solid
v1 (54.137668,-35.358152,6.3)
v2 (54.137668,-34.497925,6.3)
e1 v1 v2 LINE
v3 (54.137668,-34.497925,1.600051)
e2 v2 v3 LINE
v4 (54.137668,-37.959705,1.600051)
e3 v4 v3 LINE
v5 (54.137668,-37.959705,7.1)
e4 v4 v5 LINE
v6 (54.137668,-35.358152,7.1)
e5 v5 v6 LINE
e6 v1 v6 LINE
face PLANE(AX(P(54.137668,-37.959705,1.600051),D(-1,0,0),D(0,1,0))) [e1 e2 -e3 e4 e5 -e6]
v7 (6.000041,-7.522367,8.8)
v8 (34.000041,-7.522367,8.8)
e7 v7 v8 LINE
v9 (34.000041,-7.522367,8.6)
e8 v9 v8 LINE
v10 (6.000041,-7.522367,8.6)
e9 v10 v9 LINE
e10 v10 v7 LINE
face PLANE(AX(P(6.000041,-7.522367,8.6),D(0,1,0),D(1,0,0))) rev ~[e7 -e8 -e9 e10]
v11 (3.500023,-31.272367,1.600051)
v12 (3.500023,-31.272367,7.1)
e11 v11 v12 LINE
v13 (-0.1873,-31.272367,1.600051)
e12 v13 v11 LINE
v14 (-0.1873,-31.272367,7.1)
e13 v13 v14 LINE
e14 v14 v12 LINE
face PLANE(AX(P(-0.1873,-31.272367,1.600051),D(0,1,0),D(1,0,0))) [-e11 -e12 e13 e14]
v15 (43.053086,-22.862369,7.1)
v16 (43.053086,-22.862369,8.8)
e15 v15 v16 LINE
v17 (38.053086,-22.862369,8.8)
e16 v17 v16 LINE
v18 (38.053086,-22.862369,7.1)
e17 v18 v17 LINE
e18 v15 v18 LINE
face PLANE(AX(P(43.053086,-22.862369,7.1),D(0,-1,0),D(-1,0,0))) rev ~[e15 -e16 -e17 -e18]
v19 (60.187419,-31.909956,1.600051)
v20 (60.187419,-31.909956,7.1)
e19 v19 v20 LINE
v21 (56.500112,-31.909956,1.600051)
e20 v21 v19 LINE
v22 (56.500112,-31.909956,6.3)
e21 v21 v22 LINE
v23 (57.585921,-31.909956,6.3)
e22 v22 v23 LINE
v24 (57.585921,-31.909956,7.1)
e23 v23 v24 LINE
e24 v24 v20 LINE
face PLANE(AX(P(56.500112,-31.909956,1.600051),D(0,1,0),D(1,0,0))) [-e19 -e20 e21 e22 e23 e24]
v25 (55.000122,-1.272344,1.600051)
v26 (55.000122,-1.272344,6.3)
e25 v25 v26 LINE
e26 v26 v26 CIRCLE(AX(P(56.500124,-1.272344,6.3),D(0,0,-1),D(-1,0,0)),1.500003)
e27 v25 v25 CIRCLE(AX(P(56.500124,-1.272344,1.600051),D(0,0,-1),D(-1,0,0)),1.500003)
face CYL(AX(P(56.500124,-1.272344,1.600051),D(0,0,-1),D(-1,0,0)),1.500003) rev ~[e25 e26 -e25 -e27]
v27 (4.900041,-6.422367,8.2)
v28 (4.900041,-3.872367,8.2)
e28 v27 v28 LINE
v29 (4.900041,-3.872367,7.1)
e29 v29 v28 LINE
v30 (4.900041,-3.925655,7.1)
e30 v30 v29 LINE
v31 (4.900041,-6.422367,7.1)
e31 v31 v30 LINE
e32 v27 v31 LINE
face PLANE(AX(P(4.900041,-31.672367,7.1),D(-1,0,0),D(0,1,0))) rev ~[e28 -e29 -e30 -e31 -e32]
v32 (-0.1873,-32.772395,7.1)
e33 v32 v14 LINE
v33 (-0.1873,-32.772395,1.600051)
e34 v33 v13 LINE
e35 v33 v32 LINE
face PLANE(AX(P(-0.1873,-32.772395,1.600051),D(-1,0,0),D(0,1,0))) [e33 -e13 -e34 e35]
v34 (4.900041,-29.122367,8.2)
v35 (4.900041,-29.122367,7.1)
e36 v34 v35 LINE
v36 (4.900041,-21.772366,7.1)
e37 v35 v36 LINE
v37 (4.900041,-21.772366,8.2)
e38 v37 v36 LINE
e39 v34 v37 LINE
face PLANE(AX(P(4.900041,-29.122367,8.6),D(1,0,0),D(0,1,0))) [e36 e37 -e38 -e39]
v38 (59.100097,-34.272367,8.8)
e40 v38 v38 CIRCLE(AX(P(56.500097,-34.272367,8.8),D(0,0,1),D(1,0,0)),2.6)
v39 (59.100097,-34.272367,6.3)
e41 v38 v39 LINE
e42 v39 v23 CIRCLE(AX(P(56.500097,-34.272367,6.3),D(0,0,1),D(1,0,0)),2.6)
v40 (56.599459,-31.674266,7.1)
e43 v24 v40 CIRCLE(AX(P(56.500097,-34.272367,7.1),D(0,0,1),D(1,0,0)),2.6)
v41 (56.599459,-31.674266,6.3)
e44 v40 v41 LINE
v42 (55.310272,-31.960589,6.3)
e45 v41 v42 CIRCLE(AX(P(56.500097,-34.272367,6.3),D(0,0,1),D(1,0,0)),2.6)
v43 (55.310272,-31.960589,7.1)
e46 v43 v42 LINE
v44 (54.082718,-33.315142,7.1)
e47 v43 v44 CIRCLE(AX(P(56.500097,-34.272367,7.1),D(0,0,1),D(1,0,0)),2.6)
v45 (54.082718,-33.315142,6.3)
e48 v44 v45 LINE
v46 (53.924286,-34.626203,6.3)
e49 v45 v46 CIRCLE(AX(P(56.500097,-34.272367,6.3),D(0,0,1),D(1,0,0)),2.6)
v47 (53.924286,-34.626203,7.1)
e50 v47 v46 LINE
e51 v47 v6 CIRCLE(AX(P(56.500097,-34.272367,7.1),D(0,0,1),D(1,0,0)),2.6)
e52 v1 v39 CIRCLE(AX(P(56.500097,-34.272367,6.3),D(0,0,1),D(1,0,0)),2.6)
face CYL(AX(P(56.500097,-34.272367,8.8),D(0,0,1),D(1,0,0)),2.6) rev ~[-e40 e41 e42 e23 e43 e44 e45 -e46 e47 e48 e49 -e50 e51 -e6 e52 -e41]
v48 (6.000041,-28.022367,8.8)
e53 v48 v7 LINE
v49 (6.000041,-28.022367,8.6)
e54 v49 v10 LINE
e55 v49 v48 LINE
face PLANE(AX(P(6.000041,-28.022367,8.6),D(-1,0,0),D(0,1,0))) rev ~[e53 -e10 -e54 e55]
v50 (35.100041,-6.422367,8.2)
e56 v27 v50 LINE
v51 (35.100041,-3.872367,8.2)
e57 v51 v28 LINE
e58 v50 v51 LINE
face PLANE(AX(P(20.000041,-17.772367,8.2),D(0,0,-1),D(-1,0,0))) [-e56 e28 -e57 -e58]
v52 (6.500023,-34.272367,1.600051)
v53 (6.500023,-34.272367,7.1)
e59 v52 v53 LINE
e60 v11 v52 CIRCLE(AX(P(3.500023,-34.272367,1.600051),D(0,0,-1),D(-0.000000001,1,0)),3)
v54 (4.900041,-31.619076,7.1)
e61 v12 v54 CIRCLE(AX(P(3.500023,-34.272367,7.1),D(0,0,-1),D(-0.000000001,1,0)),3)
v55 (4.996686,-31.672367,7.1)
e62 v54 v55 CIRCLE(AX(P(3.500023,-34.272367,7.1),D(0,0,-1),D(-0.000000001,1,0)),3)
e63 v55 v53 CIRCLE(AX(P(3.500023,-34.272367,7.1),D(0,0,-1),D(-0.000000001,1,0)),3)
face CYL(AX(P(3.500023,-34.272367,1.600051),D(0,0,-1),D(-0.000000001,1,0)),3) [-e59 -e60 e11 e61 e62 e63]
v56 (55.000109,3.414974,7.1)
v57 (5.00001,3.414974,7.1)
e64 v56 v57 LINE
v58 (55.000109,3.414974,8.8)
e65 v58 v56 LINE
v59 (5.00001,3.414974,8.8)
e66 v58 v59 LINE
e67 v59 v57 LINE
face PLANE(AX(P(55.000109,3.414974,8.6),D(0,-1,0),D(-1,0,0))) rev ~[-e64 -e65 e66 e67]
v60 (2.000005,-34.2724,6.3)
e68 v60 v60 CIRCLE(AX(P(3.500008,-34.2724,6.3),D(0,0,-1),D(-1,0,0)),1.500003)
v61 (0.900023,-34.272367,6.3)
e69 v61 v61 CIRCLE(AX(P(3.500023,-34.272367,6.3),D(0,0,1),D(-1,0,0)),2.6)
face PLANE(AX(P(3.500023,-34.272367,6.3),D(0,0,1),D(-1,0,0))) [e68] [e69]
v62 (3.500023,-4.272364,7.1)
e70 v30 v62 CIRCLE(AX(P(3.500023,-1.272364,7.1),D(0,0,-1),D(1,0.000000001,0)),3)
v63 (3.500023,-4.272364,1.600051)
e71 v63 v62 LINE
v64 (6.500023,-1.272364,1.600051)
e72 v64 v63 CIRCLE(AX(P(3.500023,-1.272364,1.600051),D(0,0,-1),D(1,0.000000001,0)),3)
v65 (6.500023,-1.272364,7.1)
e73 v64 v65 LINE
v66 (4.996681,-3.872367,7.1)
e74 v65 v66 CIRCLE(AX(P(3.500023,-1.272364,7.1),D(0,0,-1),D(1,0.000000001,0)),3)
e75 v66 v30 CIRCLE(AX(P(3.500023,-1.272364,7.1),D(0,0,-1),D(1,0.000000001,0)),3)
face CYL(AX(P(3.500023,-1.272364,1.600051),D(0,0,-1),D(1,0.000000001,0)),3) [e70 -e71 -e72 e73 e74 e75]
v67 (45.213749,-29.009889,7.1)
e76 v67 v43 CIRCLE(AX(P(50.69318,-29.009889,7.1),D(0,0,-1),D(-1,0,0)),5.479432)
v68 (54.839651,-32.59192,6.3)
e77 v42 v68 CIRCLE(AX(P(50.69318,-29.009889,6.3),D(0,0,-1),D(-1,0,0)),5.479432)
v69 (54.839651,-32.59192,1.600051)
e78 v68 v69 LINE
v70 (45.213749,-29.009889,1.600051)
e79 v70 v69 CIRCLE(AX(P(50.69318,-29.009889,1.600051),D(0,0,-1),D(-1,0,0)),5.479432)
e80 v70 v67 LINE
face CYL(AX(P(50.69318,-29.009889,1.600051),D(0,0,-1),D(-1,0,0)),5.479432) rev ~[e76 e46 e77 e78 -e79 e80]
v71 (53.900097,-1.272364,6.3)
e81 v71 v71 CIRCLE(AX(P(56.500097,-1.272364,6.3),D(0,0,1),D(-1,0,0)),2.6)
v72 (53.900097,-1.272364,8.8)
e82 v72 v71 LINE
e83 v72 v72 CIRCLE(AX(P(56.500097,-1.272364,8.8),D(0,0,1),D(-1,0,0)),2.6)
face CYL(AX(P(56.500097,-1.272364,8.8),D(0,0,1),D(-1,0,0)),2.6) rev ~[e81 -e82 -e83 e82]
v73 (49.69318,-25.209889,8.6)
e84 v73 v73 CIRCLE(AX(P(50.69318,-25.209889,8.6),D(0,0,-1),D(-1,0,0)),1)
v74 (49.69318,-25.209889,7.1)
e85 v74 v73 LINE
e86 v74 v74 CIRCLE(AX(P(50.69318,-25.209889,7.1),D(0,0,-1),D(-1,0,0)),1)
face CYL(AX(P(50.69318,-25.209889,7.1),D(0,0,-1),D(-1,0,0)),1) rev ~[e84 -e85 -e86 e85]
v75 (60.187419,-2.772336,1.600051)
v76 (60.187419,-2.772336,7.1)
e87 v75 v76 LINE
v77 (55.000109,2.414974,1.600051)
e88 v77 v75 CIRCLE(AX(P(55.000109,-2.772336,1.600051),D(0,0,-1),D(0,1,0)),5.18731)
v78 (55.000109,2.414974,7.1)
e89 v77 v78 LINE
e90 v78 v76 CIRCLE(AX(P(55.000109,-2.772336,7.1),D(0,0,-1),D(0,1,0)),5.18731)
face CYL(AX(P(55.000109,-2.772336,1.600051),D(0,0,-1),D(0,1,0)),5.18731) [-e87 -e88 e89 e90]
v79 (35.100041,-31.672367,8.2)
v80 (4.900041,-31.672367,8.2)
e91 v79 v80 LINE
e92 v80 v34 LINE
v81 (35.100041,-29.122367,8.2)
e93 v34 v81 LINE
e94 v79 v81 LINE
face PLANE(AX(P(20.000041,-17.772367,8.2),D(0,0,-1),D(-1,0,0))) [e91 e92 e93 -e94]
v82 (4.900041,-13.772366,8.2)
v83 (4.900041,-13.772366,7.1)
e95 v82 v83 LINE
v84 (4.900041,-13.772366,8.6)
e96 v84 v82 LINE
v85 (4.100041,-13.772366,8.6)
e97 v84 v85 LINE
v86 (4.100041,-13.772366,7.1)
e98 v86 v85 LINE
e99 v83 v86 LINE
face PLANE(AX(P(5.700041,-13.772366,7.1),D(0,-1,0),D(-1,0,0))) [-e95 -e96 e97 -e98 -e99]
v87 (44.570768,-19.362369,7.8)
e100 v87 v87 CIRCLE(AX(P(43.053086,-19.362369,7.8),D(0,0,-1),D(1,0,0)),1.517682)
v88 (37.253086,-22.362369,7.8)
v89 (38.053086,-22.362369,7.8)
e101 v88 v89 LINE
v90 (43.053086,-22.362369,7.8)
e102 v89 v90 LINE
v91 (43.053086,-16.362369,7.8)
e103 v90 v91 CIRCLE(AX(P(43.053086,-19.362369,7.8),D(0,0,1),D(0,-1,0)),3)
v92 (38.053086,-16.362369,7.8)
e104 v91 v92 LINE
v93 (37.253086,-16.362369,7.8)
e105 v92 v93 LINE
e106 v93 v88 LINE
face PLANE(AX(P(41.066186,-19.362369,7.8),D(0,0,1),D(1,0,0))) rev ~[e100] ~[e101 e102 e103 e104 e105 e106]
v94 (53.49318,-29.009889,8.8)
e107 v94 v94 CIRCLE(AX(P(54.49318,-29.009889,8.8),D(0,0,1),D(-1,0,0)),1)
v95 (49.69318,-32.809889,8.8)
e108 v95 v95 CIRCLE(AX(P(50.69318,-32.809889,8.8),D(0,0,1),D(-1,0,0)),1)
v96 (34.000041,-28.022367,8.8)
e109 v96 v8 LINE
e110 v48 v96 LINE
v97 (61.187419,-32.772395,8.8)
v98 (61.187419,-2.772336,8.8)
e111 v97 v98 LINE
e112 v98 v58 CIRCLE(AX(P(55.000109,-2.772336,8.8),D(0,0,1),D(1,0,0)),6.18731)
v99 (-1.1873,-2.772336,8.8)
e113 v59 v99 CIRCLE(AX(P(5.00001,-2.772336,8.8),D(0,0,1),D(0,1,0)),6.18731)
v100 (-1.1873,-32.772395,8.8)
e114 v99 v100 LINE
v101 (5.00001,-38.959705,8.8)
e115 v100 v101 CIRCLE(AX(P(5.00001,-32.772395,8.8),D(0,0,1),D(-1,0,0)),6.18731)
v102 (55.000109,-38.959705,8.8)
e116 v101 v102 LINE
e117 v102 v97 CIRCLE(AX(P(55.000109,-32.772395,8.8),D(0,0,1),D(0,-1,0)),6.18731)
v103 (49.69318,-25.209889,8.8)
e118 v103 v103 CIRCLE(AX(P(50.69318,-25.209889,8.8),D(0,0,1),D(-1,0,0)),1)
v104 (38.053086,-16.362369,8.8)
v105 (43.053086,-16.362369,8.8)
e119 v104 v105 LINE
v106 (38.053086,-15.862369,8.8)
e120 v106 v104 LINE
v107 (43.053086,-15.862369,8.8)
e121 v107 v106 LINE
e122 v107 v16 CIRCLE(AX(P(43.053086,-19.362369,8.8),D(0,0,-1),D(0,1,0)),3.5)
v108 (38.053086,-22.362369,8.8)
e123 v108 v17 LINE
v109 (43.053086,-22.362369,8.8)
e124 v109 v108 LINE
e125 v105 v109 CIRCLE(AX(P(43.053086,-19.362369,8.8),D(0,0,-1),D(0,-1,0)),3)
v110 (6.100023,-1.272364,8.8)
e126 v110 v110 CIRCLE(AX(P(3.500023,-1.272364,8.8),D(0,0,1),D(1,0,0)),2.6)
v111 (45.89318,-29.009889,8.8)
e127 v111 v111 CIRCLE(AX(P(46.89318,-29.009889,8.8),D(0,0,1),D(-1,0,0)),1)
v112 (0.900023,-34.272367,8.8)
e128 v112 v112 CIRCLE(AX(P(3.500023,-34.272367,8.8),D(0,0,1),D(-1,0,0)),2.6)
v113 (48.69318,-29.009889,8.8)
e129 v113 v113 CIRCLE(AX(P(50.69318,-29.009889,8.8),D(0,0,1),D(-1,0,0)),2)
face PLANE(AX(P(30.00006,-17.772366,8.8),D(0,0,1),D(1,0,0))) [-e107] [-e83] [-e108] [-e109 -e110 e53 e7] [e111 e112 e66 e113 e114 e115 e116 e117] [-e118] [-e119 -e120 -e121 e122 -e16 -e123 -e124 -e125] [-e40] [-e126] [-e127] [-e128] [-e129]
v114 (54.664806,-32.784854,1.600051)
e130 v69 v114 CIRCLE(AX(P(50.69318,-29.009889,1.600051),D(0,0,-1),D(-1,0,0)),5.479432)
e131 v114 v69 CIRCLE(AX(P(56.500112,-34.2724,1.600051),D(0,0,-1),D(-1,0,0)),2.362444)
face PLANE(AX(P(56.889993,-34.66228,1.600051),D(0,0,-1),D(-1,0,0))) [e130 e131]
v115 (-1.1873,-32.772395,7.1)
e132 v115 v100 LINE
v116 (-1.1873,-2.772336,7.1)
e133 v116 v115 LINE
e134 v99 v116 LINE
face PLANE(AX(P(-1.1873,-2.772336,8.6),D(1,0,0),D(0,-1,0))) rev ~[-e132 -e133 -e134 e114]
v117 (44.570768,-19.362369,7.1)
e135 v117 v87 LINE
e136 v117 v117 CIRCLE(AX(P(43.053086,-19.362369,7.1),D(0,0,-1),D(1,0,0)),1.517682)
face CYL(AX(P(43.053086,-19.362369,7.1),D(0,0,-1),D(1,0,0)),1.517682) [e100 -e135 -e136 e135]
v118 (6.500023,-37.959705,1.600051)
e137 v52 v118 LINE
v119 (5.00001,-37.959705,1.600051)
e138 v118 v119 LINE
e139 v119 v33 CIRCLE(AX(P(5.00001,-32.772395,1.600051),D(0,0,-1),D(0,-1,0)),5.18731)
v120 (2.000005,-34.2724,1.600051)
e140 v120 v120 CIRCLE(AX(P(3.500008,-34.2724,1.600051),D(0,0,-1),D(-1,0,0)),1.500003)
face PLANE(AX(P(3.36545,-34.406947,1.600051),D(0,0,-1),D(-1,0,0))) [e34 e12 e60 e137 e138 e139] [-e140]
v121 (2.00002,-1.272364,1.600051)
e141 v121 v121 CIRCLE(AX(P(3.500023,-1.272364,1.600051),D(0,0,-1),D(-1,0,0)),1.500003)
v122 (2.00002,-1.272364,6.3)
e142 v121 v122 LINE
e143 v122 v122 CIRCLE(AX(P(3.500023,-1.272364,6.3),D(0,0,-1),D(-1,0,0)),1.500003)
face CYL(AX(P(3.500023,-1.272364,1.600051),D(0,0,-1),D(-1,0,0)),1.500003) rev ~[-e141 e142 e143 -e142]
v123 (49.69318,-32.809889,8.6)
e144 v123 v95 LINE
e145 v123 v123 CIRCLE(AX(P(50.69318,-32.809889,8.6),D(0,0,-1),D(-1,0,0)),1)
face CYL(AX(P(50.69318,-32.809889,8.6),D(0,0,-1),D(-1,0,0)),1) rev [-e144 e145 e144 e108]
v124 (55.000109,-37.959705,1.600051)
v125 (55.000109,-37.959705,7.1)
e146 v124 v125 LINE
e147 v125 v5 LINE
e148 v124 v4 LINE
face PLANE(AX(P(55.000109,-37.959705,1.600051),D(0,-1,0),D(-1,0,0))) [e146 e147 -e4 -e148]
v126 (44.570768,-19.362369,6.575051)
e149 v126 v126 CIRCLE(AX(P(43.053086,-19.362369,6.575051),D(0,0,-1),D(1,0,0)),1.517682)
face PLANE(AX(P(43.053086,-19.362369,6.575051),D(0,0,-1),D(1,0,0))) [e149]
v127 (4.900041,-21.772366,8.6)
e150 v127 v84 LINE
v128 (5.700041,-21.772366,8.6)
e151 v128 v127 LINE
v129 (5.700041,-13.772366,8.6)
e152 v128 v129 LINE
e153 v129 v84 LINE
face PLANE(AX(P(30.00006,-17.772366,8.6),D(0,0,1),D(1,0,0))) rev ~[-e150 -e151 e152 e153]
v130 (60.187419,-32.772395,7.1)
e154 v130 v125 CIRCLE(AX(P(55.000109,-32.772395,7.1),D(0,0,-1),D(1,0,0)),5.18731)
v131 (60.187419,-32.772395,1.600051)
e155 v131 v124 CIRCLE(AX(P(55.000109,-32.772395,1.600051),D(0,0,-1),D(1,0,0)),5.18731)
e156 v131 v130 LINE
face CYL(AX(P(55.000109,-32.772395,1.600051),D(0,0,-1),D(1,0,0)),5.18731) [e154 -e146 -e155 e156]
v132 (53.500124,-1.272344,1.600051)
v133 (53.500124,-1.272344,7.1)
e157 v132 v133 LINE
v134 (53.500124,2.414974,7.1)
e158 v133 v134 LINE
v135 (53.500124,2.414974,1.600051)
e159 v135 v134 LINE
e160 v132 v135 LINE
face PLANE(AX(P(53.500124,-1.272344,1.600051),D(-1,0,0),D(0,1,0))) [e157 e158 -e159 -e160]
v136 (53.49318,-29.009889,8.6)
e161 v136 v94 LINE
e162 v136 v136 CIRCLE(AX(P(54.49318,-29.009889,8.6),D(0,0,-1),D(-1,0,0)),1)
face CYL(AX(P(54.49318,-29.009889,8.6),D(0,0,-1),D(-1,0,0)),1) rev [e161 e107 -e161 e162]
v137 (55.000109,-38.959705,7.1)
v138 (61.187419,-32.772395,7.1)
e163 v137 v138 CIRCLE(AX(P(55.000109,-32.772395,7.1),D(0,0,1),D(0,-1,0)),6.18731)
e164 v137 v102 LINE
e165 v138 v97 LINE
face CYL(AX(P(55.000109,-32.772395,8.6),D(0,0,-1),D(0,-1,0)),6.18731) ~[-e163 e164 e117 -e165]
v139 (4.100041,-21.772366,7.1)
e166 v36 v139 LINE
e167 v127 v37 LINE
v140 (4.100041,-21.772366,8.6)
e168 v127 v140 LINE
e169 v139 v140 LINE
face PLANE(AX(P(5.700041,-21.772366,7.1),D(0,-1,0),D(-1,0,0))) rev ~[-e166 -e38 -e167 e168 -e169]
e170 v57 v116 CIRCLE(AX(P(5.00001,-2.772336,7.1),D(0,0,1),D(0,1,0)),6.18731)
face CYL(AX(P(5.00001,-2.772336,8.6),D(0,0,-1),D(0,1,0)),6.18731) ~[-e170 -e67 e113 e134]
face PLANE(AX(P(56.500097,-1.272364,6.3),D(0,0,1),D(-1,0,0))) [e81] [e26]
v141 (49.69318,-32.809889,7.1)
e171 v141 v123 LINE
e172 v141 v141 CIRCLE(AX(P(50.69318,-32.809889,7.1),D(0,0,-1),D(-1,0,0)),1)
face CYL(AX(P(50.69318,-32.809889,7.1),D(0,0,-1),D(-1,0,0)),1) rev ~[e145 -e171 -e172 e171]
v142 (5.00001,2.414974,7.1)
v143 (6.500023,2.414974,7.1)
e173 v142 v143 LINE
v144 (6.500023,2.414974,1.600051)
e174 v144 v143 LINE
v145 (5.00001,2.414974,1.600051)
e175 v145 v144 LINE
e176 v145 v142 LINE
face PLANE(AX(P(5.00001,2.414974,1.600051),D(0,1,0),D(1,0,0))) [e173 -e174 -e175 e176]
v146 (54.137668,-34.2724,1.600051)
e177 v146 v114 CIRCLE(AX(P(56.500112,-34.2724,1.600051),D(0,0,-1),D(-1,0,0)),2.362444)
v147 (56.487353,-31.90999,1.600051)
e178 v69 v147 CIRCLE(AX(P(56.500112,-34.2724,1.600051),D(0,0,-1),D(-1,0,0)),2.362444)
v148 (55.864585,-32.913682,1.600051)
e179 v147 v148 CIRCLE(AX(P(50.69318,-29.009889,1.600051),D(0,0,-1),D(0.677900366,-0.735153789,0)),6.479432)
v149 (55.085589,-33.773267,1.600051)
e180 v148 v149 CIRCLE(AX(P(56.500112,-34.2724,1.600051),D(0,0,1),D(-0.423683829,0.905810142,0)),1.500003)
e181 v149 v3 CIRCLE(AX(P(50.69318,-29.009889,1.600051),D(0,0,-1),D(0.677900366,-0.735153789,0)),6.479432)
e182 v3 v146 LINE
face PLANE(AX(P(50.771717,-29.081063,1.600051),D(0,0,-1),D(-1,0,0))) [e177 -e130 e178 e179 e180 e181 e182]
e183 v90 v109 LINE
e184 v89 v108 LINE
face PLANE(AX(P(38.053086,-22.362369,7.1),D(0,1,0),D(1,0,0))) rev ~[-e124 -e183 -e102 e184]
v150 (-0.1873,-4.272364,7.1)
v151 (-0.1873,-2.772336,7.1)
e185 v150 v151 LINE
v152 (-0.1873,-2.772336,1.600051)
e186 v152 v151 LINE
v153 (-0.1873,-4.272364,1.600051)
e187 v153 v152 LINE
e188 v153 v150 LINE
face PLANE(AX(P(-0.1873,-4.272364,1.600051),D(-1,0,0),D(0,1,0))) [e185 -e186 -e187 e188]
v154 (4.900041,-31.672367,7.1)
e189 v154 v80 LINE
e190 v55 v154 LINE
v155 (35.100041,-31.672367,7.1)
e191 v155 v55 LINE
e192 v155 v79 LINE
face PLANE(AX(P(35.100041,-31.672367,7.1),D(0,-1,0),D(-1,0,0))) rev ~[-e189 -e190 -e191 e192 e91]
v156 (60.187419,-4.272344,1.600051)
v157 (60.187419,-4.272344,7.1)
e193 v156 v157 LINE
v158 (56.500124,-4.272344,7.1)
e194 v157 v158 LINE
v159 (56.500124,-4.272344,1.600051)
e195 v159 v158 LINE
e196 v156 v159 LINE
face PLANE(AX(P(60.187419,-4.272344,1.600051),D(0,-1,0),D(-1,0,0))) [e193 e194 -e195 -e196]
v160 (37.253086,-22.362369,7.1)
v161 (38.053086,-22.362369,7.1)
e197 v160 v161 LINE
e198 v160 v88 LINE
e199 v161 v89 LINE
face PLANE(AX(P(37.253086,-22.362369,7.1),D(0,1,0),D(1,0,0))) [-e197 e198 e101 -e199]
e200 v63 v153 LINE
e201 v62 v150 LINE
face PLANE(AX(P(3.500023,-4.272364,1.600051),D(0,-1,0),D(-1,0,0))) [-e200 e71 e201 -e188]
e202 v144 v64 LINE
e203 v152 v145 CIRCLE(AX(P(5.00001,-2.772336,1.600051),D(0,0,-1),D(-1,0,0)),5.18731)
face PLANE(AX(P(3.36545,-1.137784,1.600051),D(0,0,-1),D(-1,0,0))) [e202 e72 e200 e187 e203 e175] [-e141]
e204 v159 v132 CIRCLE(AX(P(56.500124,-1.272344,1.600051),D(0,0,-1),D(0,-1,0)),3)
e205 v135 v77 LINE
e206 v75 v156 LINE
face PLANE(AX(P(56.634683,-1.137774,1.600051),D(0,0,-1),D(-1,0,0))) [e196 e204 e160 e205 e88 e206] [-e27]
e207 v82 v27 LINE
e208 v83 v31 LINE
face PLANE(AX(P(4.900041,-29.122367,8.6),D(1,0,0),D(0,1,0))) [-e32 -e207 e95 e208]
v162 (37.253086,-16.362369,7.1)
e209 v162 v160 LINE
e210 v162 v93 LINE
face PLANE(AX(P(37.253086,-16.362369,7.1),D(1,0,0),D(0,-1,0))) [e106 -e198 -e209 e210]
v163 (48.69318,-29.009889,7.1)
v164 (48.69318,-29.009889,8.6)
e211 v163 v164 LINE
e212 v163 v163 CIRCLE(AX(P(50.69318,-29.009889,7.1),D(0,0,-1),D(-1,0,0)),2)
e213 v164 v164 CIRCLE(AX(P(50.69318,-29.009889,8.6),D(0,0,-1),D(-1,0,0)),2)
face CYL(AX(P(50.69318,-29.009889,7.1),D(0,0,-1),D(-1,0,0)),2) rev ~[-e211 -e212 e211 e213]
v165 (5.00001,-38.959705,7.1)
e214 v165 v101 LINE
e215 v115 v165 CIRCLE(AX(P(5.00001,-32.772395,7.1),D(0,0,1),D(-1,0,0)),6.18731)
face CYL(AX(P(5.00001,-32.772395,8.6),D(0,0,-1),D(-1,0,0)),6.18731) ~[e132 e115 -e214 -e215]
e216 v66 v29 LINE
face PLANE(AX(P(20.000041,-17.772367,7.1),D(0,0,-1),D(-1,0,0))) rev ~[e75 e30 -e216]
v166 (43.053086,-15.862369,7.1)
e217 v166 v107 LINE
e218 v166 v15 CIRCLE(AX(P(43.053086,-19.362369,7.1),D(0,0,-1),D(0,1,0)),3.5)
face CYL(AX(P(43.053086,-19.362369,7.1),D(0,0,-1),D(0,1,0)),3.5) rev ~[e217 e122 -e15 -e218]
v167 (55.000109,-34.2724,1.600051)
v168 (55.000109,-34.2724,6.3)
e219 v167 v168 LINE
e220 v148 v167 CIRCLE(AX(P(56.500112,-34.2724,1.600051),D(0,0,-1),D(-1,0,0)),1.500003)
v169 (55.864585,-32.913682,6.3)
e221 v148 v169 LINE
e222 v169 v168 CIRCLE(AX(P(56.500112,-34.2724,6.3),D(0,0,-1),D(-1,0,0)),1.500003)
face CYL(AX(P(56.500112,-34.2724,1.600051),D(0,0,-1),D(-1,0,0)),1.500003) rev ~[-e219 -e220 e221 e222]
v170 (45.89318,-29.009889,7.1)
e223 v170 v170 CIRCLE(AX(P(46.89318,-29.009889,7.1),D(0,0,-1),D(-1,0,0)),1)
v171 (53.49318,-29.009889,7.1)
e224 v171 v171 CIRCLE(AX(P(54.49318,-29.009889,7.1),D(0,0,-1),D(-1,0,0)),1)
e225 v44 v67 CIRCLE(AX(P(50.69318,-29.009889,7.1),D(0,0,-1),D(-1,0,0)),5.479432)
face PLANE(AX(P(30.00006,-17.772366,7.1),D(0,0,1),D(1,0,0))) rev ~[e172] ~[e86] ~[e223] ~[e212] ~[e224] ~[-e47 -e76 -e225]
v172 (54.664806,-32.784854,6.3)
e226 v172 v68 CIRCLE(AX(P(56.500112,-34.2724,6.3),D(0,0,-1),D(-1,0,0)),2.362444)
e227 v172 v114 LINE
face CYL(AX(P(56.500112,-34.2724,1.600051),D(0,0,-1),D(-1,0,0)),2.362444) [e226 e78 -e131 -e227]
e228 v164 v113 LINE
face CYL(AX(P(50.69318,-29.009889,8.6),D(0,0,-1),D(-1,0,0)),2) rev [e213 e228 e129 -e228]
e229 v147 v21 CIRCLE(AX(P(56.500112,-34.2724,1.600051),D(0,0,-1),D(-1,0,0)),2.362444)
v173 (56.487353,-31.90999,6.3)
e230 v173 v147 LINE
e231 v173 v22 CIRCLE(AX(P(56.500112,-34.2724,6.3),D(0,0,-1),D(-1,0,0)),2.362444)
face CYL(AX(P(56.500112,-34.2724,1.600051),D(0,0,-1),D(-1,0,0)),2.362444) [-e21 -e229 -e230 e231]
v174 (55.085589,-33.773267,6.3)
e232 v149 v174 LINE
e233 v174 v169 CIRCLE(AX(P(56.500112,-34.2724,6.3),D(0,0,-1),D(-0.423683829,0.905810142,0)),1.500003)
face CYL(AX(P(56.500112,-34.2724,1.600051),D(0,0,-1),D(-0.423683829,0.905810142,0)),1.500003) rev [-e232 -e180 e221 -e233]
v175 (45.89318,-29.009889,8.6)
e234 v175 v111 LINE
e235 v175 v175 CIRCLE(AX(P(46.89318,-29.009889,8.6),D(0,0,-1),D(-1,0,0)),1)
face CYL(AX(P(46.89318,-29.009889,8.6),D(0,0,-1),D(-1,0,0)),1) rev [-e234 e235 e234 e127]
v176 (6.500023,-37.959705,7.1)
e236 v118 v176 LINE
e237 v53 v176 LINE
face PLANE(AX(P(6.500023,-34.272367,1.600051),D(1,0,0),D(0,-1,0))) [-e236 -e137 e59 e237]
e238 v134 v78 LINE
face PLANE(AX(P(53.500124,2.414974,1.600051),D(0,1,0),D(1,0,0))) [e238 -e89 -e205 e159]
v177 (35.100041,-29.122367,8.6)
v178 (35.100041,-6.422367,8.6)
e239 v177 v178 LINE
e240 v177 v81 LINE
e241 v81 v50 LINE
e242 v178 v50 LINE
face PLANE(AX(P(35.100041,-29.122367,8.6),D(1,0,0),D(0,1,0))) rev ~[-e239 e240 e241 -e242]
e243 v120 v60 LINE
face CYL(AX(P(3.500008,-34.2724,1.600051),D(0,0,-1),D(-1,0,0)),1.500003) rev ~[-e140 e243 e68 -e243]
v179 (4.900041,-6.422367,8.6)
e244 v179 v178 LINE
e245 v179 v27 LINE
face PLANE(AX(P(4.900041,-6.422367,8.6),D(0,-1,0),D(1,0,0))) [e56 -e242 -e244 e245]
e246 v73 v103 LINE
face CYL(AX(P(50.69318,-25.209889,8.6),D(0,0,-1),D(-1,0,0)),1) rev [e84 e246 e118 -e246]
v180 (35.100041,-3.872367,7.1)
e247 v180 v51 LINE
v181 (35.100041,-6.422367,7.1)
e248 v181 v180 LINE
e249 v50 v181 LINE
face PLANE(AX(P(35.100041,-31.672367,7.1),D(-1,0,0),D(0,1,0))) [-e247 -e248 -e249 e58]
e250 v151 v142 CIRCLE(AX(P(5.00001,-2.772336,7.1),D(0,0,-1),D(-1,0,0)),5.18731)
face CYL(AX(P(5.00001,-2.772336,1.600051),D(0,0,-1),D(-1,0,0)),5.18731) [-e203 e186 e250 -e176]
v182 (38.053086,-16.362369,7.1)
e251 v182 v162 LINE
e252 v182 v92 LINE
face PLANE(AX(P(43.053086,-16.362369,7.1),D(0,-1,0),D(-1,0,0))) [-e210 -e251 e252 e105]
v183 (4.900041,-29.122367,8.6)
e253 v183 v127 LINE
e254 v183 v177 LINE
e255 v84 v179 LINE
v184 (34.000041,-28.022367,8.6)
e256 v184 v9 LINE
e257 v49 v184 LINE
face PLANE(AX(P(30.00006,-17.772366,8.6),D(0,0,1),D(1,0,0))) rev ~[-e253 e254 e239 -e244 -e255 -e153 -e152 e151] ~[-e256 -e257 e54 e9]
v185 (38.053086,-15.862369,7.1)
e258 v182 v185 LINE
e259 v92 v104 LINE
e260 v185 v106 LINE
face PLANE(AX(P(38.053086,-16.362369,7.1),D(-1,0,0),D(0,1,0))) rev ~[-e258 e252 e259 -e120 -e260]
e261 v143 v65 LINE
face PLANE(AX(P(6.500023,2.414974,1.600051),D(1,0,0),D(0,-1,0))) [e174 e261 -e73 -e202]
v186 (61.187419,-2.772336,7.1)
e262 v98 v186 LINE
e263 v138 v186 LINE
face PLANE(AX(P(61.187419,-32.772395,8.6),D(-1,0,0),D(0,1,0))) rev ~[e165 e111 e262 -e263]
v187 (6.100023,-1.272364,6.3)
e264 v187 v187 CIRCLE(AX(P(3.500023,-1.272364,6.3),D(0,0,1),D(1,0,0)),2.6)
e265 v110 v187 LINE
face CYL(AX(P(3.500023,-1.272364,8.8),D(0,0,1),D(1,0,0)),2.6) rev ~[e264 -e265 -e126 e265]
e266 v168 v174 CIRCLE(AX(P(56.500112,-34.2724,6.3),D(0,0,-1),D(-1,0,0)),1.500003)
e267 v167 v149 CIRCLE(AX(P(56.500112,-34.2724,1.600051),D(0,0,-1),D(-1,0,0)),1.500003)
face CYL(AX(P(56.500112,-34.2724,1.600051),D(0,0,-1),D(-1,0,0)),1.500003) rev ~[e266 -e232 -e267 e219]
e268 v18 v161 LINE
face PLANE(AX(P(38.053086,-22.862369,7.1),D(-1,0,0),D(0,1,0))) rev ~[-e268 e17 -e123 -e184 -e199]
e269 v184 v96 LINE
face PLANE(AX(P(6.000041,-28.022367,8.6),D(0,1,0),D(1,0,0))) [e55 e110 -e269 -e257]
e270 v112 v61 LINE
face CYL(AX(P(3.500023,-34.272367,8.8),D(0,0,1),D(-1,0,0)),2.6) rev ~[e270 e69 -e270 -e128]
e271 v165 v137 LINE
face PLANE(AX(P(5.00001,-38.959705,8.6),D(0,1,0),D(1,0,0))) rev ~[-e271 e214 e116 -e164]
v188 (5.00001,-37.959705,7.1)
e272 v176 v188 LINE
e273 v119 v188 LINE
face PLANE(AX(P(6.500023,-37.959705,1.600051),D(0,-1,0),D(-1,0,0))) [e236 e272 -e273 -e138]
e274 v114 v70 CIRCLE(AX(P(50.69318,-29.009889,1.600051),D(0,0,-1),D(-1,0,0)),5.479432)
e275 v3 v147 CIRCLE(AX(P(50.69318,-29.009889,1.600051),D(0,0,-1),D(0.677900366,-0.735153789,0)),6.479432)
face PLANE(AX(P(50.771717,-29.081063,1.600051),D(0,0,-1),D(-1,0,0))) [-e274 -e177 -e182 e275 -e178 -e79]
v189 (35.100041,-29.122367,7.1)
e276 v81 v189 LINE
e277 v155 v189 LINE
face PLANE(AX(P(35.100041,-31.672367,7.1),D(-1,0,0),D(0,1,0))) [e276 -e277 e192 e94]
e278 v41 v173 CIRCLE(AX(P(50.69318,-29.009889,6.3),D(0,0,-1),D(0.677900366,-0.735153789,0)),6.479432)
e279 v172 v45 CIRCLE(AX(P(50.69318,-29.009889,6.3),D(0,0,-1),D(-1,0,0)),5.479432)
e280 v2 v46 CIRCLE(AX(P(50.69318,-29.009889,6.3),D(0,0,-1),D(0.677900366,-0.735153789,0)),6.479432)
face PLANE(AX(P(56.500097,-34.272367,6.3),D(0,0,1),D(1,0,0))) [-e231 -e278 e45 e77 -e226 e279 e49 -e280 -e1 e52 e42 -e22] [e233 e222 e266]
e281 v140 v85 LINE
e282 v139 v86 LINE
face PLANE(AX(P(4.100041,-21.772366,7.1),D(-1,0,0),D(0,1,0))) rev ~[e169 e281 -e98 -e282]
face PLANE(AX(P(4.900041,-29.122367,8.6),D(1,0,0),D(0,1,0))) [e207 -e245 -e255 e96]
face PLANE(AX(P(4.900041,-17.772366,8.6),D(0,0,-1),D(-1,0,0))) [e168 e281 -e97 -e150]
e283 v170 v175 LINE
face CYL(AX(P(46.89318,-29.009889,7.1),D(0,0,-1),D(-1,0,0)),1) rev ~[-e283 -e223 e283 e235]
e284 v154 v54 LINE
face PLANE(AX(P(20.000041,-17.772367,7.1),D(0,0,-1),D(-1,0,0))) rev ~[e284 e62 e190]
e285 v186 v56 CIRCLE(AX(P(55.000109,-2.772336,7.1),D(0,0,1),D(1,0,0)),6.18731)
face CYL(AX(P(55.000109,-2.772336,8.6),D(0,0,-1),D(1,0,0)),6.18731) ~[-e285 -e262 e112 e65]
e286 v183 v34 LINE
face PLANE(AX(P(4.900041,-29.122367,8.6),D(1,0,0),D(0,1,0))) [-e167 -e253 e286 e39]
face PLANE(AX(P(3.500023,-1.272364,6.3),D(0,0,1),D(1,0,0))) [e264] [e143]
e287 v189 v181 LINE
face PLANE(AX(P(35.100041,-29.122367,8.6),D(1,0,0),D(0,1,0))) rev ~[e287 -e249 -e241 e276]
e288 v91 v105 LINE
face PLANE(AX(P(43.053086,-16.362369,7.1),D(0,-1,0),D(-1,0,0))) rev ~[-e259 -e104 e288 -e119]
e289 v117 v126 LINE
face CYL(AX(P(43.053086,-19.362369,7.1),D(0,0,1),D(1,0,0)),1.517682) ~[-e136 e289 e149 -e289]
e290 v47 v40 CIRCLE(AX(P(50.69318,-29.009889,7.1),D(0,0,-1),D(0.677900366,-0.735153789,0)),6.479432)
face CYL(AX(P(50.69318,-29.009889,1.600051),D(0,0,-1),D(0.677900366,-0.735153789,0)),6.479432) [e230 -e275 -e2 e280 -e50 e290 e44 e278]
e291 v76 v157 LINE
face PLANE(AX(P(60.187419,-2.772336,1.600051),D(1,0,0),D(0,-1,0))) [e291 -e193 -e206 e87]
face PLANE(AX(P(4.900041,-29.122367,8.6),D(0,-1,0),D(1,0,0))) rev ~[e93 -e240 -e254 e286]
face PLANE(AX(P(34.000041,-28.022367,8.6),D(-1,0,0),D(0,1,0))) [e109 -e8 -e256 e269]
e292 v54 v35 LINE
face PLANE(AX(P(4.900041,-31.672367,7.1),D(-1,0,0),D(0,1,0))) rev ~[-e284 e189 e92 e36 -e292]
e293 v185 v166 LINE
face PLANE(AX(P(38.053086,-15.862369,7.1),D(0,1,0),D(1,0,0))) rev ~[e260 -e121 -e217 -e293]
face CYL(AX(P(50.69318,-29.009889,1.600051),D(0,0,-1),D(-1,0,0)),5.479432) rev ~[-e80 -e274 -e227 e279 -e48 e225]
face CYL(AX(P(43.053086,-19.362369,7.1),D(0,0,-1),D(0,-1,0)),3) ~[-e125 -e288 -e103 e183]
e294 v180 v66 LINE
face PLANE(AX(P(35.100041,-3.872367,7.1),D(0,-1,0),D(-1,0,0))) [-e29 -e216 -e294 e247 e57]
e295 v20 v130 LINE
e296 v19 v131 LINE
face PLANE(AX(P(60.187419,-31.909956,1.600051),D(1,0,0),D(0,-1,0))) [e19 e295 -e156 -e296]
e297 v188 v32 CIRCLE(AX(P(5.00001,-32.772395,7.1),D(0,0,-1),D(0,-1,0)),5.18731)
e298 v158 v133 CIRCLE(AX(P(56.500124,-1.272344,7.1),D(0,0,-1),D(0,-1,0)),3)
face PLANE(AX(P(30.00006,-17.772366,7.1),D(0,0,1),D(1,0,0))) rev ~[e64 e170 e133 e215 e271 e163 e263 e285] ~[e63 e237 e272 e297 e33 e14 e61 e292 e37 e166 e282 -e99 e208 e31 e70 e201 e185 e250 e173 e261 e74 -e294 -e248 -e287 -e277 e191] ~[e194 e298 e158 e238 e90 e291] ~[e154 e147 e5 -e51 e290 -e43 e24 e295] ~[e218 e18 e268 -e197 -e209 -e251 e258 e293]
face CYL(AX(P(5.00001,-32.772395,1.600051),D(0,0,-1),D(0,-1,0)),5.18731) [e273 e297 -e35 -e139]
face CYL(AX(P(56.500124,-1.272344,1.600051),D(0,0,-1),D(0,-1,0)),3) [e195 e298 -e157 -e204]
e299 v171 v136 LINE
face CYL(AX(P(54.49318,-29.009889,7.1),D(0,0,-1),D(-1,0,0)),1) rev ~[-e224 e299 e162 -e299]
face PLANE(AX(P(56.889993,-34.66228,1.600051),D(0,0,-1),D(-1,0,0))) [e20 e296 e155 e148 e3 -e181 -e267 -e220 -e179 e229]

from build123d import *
from build123d.topology import SkipClean

# Parameters (mm, degrees)
SKETCH_1_R          = 1.50000254
EXTRUDE_1_DEPTH     = 1.5
EXTRUDE_START       = 5.4999492
SKETCH_2_R          = 5.479431536
EXTRUDE_2_DEPTH     = 5.4999492
SKETCH_3_R          = 2
SKETCH_3_R_2        = 1
CUT_EXTRUDE_1_DEPTH = 1.5
SKETCH_4_W          = 28
SKETCH_4_H          = 20.5
CUT_EXTRUDE_2_DEPTH = 1.5
SKETCH_5_R          = 1.50000254
EXTRUDE_3_DEPTH     = 5.4999492
SKETCH_7_W          = 30.2
SKETCH_7_H          = 22.7
CUT_EXTRUDE_3_DEPTH = 1.5
SKETCH_8_R          = 1.517681864
EXTRUDE_5_DEPTH     = 0.524949197
SKETCH_10_W         = 30.2
SKETCH_10_H         = 27.8
CUT_EXTRUDE_5_DEPTH = 1.1
SKETCH_6_R          = 1
SKETCH_6_R_2        = 2
SKETCH_6_W          = 28
SKETCH_6_H          = 20.5
EXTRUDE_4_DEPTH     = 0.2
CUT_EXTRUDE_4_DEPTH = 14.2
SKETCH_13_R         = 1.517681864
CUT_EXTRUDE_8_DEPTH = 0.7
SKETCH_11_R         = 1.50000254
CUT_EXTRUDE_6_DEPTH = 1.7
SKETCH_12_R         = 2.6
CUT_EXTRUDE_7_DEPTH = 2.5
SKETCH_14_W         = 1.6
SKETCH_14_H         = 8
CUT_EXTRUDE_9_DEPTH = 1.5


with BuildPart() as part:
    # 草图1 → 凸台-拉伸1 (new body)
    with BuildSketch(Plane.XY.offset(7.1)):
        with BuildLine():
            Line((-1.187299975, -2.77233639), (-1.187299975, -32.77239481))
            ThreePointArc((-1.187299975, -32.77239481), (0.624921207, -37.147483764), (5.00001016, -38.959704945))
            Line((5.00001016, -38.959704945), (55.00010922, -38.959704945))
            ThreePointArc((55.00010922, -38.959704945), (59.375198174, -37.147483764), (61.187419355, -32.77239481))
            Line((61.187419355, -32.77239481), (61.187419355, -2.77233639))
            ThreePointArc((61.187419355, -2.77233639), (59.375198174, 1.602752563), (55.00010922, 3.414973745))
            Line((55.00010922, 3.414973745), (5.00001016, 3.414973745))
            ThreePointArc((5.00001016, 3.414973745), (0.624921207, 1.602752563), (-1.187299975, -2.77233639))
        make_face()
        with Locations((56.50012446, -1.27234401)):
            Circle(SKETCH_1_R, mode=Mode.SUBTRACT)
        with Locations((56.50011176, -34.27239989)):
            Circle(SKETCH_1_R, mode=Mode.SUBTRACT)
        with Locations((3.50000762, -34.27239989)):
            Circle(SKETCH_1_R, mode=Mode.SUBTRACT)
        with Locations((3.50002286, -1.27236433)):
            Circle(SKETCH_1_R, mode=Mode.SUBTRACT)
    extrude(amount=EXTRUDE_1_DEPTH)

    # 草图2 → 凸台-拉伸2 (add)
    with BuildSketch(Plane(origin=(0, 0, 7.1), x_dir=(-1, 0, 0), z_dir=(0, 0, -1)).offset(EXTRUDE_START)):
        with BuildLine():
            ThreePointArc((-55.085589107, -33.773267358), (-45.891997384, -24.658833945), (-55.864584942, -32.913682376))
            ThreePointArc((-55.864584942, -32.913682376), (-55.388627485, -33.265121217), (-55.085589107, -33.773267358))
        make_face()
        with Locations((-50.693180097, -29.009888712)):
            Circle(SKETCH_2_R, mode=Mode.SUBTRACT)
    extrude(amount=-EXTRUDE_2_DEPTH)

    # 草图3 → 切除-拉伸1 (cut)
    with BuildSketch(Plane(origin=(0, 0, 7.1), x_dir=(-1, 0, 0), z_dir=(0, 0, -1))):
        with Locations((-50.693180097, -29.009888712)):
            Circle(SKETCH_3_R)
        with Locations((-54.493180097, -29.009888712)):
            Circle(SKETCH_3_R_2)
        with Locations((-50.693180097, -25.209888712)):
            Circle(SKETCH_3_R_2)
        with Locations((-46.893180097, -29.009888712)):
            Circle(SKETCH_3_R_2)
        with Locations((-50.693180097, -32.809888712)):
            Circle(SKETCH_3_R_2)
    extrude(amount=-CUT_EXTRUDE_1_DEPTH, mode=Mode.SUBTRACT)

    # 草图4 → 切除-拉伸2 (cut)
    with BuildSketch(Plane.XY.offset(8.6)):
        with Locations((20.00004064, -17.77236687)):
            Rectangle(SKETCH_4_W, SKETCH_4_H)
    extrude(amount=-CUT_EXTRUDE_2_DEPTH, mode=Mode.SUBTRACT)

    # 草图5 → 凸台-拉伸3 (add)
    # profile 1 of 4: a face of its own
    with SkipClean():  # the faces are left unmerged after this step: merging them gives an invalid solid
        with BuildSketch(Plane(origin=(0, 0, 7.1), x_dir=(-1, 0, 0), z_dir=(0, 0, -1)).offset(EXTRUDE_START)):
            with BuildLine():
                Line((-60.187419355, -2.77233639), (-60.187419355, -4.27234401))
                Line((-60.187419355, -4.27234401), (-56.50012446, -4.27234401))
                ThreePointArc((-56.50012446, -4.27234401), (-54.378804117, -3.393664354), (-53.50012446, -1.27234401))
                Line((-53.50012446, -1.27234401), (-53.50012446, 2.414973745))
                Line((-53.50012446, 2.414973745), (-55.00010922, 2.414973745))
                ThreePointArc((-55.00010922, 2.414973745), (-58.668091393, 0.895645782), (-60.187419355, -2.77233639))
            make_face()
            with Locations((-56.50012446, -1.27234401)):
                Circle(SKETCH_5_R, mode=Mode.SUBTRACT)
        # profile 2 of 4: a face of its own
        with BuildSketch(Plane(origin=(0, 0, 7.1), x_dir=(-1, 0, 0), z_dir=(0, 0, -1)).offset(EXTRUDE_START)):
            with BuildLine():
                ThreePointArc((-54.137667628, -34.27239989), (-54.829611494, -32.601899624), (-56.50011176, -31.909955757))
                Line((-56.50011176, -31.909955757), (-60.187419355, -31.909955757))
                Line((-60.187419355, -31.909955757), (-60.187419355, -32.77239481))
                ThreePointArc((-60.187419355, -32.77239481), (-58.668091393, -36.440376982), (-55.00010922, -37.959704945))
                Line((-55.00010922, -37.959704945), (-54.137667628, -37.959704945))
                Line((-54.137667628, -37.959704945), (-54.137667628, -34.27239989))
            make_face()
            with Locations((-56.50011176, -34.27239989)):
                Circle(SKETCH_5_R, mode=Mode.SUBTRACT)
        # profile 3 of 4: a face of its own
        with BuildSketch(Plane(origin=(0, 0, 7.1), x_dir=(-1, 0, 0), z_dir=(0, 0, -1)).offset(EXTRUDE_START)):
            with BuildLine():
                Line((-6.50002286, -34.27236687), (-6.50002286, -37.959704945))
                Line((-6.50002286, -37.959704945), (-5.00001016, -37.959704945))
                ThreePointArc((-5.00001016, -37.959704945), (-1.332027988, -36.440376982), (0.187299975, -32.77239481))
                Line((0.187299975, -32.77239481), (0.187299975, -31.27236687))
                Line((0.187299975, -31.27236687), (-3.50002286, -31.27236687))
                ThreePointArc((-3.50002286, -31.27236687), (-5.621343204, -32.151046526), (-6.50002286, -34.27236687))
            make_face()
            with Locations((-3.50000762, -34.27239989)):
                Circle(SKETCH_5_R, mode=Mode.SUBTRACT)
        # profile 4 of 4: a face of its own
        with BuildSketch(Plane(origin=(0, 0, 7.1), x_dir=(-1, 0, 0), z_dir=(0, 0, -1)).offset(EXTRUDE_START)):
            with BuildLine():
                Line((-5.00001016, 2.414973745), (-6.50002286, 2.414973745))
                Line((-6.50002286, 2.414973745), (-6.50002286, -1.27236433))
                ThreePointArc((-6.50002286, -1.27236433), (-5.621343204, -3.393684674), (-3.50002286, -4.27236433))
                Line((-3.50002286, -4.27236433), (0.187299975, -4.27236433))
                Line((0.187299975, -4.27236433), (0.187299975, -2.77233639))
                ThreePointArc((0.187299975, -2.77233639), (-1.332027988, 0.895645782), (-5.00001016, 2.414973745))
            make_face()
            with Locations((-3.50002286, -1.27236433)):
                Circle(SKETCH_5_R, mode=Mode.SUBTRACT)
        extrude(amount=-EXTRUDE_3_DEPTH)

    # 草图7 → 切除-拉伸3 (cut)
    with SkipClean():  # the faces are left unmerged after this step: merging them gives an invalid solid
        with BuildSketch(Plane.XY.offset(8.6)):
            with Locations((20.00004064, -17.77236687)):
                Rectangle(SKETCH_7_W, SKETCH_7_H)
        extrude(amount=-CUT_EXTRUDE_3_DEPTH, mode=Mode.SUBTRACT)

    # 草图8 → 凸台-拉伸5 (add)
    with SkipClean():  # the faces are left unmerged after this step: merging them gives an invalid solid
        with BuildSketch(Plane(origin=(0, 0, 7.1), x_dir=(-1, 0, 0), z_dir=(0, 0, -1))):
            with Locations(Location((-43.053086106, -19.36236941, 0), (0, 0, 180))):
                Circle(SKETCH_8_R)
        extrude(amount=EXTRUDE_5_DEPTH)

    # 草图10 → 切除-拉伸5 (cut)
    with SkipClean():  # the faces are left unmerged after this step: merging them gives an invalid solid
        with BuildSketch(Plane(origin=(0, 0, 7.1), x_dir=(-1, 0, 0), z_dir=(0, 0, -1))):
            with Locations((-20.00004064, -17.77236687)):
                Rectangle(SKETCH_10_W, SKETCH_10_H)
        extrude(amount=-CUT_EXTRUDE_5_DEPTH, mode=Mode.SUBTRACT)

    # 草图6 → 凸台-拉伸4 (add)
    with BuildSketch(Plane.XY.offset(8.6)):
        with BuildLine():
            Line((-1.187299975, -2.77233639), (-1.187299975, -32.77239481))
            ThreePointArc((-1.187299975, -32.77239481), (0.624921207, -37.147483764), (5.00001016, -38.959704945))
            Line((5.00001016, -38.959704945), (55.00010922, -38.959704945))
            ThreePointArc((55.00010922, -38.959704945), (59.375198174, -37.147483764), (61.187419355, -32.77239481))
            Line((61.187419355, -32.77239481), (61.187419355, -2.77233639))
            ThreePointArc((61.187419355, -2.77233639), (59.375198174, 1.602752563), (55.00010922, 3.414973745))
            Line((55.00010922, 3.414973745), (5.00001016, 3.414973745))
            ThreePointArc((5.00001016, 3.414973745), (0.624921207, 1.602752563), (-1.187299975, -2.77233639))
        make_face()
        with Locations(Location((46.893180097, -29.009888712, 0), (0, 0, 180))):
            Circle(SKETCH_6_R, mode=Mode.SUBTRACT)
        with Locations(Location((50.693180097, -32.809888712, 0), (0, 0, 180))):
            Circle(SKETCH_6_R, mode=Mode.SUBTRACT)
        with Locations(Location((54.493180097, -29.009888712, 0), (0, 0, 180))):
            Circle(SKETCH_6_R, mode=Mode.SUBTRACT)
        with Locations(Location((50.693180097, -29.009888712, 0), (0, 0, 180))):
            Circle(SKETCH_6_R_2, mode=Mode.SUBTRACT)
        with Locations(Location((50.693180097, -25.209888712, 0), (0, 0, 180))):
            Circle(SKETCH_6_R, mode=Mode.SUBTRACT)
        with Locations((20.00004064, -17.77236687)):
            Rectangle(SKETCH_6_W, SKETCH_6_H, mode=Mode.SUBTRACT)
    extrude(amount=EXTRUDE_4_DEPTH)

    # 草图9 → 切除-拉伸4 (cut)
    with BuildSketch(Plane(origin=(0, 0, 7.1), x_dir=(-1, 0, 0), z_dir=(0, 0, -1))):
        with BuildLine():
            Line((-43.053086106, -16.36236941), (-38.053086106, -16.36236941))
            Line((-38.053086106, -16.36236941), (-38.053086106, -15.86236941))
            Line((-38.053086106, -15.86236941), (-43.053086106, -15.86236941))
            ThreePointArc((-43.053086106, -15.86236941), (-46.553086106, -19.36236941), (-43.053086106, -22.86236941))
            Line((-43.053086106, -22.86236941), (-38.053086106, -22.86236941))
            Line((-38.053086106, -22.86236941), (-38.053086106, -22.36236941))
            Line((-38.053086106, -22.36236941), (-43.053086106, -22.36236941))
            ThreePointArc((-43.053086106, -22.36236941), (-46.053086106, -19.36236941), (-43.053086106, -16.36236941))
        make_face()
    extrude(amount=-CUT_EXTRUDE_4_DEPTH, mode=Mode.SUBTRACT)

    # 草图13 → 切除-拉伸8 (cut)
    with BuildSketch(Plane(origin=(0, 0, 7.1), x_dir=(-1, 0, 0), z_dir=(0, 0, -1))):
        with BuildLine():
            Line((-43.053086106, -16.36236941), (-38.053086106, -16.36236941))
            Line((-38.053086106, -16.36236941), (-37.253086106, -16.36236941))
            Line((-37.253086106, -16.36236941), (-37.253086106, -22.36236941))
            Line((-37.253086106, -22.36236941), (-38.053086106, -22.36236941))
            Line((-38.053086106, -22.36236941), (-43.053086106, -22.36236941))
            ThreePointArc((-43.053086106, -22.36236941), (-46.053086106, -19.36236941), (-43.053086106, -16.36236941))
        make_face()
        with Locations(Location((-43.053086106, -19.36236941, 0), (0, 0, 180))):
            Circle(SKETCH_13_R, mode=Mode.SUBTRACT)
    extrude(amount=-CUT_EXTRUDE_8_DEPTH, mode=Mode.SUBTRACT)

    # 草图11 → 切除-拉伸6 (cut)
    with BuildSketch(Plane(origin=(0, 0, 7.1), x_dir=(-1, 0, 0), z_dir=(0, 0, -1))):
        with Locations((-56.50012446, -1.27234401)):
            Circle(SKETCH_11_R)
        with Locations((-3.50002286, -1.27236433)):
            Circle(SKETCH_11_R)
        with Locations((-56.50011176, -34.27239989)):
            Circle(SKETCH_11_R)
        with Locations((-3.50000762, -34.27239989)):
            Circle(SKETCH_11_R)
    extrude(amount=-CUT_EXTRUDE_6_DEPTH, mode=Mode.SUBTRACT)

    # 草图12 → 切除-拉伸7 (cut)
    with BuildSketch(Plane.XY.offset(8.8)):
        with Locations((3.50002286, -1.27236433)):
            Circle(SKETCH_12_R)
        with Locations(Location((56.50009652, -1.27236433, 0), (0, 0, 180))):
            Circle(SKETCH_12_R)
        with Locations((56.50009652, -34.27236687)):
            Circle(SKETCH_12_R)
        with Locations(Location((3.50002286, -34.27236687, 0), (0, 0, 180))):
            Circle(SKETCH_12_R)
    extrude(amount=-CUT_EXTRUDE_7_DEPTH, mode=Mode.SUBTRACT)

    # 草图14 → 切除-拉伸9 (cut)
    with BuildSketch(Plane(origin=(0, 0, 7.1), x_dir=(-1, 0, 0), z_dir=(0, 0, -1))):
        with Locations((-4.90004064, -17.7723656)):
            Rectangle(SKETCH_14_W, SKETCH_14_H)
    extrude(amount=-CUT_EXTRUDE_9_DEPTH, mode=Mode.SUBTRACT)


solid = part.part
